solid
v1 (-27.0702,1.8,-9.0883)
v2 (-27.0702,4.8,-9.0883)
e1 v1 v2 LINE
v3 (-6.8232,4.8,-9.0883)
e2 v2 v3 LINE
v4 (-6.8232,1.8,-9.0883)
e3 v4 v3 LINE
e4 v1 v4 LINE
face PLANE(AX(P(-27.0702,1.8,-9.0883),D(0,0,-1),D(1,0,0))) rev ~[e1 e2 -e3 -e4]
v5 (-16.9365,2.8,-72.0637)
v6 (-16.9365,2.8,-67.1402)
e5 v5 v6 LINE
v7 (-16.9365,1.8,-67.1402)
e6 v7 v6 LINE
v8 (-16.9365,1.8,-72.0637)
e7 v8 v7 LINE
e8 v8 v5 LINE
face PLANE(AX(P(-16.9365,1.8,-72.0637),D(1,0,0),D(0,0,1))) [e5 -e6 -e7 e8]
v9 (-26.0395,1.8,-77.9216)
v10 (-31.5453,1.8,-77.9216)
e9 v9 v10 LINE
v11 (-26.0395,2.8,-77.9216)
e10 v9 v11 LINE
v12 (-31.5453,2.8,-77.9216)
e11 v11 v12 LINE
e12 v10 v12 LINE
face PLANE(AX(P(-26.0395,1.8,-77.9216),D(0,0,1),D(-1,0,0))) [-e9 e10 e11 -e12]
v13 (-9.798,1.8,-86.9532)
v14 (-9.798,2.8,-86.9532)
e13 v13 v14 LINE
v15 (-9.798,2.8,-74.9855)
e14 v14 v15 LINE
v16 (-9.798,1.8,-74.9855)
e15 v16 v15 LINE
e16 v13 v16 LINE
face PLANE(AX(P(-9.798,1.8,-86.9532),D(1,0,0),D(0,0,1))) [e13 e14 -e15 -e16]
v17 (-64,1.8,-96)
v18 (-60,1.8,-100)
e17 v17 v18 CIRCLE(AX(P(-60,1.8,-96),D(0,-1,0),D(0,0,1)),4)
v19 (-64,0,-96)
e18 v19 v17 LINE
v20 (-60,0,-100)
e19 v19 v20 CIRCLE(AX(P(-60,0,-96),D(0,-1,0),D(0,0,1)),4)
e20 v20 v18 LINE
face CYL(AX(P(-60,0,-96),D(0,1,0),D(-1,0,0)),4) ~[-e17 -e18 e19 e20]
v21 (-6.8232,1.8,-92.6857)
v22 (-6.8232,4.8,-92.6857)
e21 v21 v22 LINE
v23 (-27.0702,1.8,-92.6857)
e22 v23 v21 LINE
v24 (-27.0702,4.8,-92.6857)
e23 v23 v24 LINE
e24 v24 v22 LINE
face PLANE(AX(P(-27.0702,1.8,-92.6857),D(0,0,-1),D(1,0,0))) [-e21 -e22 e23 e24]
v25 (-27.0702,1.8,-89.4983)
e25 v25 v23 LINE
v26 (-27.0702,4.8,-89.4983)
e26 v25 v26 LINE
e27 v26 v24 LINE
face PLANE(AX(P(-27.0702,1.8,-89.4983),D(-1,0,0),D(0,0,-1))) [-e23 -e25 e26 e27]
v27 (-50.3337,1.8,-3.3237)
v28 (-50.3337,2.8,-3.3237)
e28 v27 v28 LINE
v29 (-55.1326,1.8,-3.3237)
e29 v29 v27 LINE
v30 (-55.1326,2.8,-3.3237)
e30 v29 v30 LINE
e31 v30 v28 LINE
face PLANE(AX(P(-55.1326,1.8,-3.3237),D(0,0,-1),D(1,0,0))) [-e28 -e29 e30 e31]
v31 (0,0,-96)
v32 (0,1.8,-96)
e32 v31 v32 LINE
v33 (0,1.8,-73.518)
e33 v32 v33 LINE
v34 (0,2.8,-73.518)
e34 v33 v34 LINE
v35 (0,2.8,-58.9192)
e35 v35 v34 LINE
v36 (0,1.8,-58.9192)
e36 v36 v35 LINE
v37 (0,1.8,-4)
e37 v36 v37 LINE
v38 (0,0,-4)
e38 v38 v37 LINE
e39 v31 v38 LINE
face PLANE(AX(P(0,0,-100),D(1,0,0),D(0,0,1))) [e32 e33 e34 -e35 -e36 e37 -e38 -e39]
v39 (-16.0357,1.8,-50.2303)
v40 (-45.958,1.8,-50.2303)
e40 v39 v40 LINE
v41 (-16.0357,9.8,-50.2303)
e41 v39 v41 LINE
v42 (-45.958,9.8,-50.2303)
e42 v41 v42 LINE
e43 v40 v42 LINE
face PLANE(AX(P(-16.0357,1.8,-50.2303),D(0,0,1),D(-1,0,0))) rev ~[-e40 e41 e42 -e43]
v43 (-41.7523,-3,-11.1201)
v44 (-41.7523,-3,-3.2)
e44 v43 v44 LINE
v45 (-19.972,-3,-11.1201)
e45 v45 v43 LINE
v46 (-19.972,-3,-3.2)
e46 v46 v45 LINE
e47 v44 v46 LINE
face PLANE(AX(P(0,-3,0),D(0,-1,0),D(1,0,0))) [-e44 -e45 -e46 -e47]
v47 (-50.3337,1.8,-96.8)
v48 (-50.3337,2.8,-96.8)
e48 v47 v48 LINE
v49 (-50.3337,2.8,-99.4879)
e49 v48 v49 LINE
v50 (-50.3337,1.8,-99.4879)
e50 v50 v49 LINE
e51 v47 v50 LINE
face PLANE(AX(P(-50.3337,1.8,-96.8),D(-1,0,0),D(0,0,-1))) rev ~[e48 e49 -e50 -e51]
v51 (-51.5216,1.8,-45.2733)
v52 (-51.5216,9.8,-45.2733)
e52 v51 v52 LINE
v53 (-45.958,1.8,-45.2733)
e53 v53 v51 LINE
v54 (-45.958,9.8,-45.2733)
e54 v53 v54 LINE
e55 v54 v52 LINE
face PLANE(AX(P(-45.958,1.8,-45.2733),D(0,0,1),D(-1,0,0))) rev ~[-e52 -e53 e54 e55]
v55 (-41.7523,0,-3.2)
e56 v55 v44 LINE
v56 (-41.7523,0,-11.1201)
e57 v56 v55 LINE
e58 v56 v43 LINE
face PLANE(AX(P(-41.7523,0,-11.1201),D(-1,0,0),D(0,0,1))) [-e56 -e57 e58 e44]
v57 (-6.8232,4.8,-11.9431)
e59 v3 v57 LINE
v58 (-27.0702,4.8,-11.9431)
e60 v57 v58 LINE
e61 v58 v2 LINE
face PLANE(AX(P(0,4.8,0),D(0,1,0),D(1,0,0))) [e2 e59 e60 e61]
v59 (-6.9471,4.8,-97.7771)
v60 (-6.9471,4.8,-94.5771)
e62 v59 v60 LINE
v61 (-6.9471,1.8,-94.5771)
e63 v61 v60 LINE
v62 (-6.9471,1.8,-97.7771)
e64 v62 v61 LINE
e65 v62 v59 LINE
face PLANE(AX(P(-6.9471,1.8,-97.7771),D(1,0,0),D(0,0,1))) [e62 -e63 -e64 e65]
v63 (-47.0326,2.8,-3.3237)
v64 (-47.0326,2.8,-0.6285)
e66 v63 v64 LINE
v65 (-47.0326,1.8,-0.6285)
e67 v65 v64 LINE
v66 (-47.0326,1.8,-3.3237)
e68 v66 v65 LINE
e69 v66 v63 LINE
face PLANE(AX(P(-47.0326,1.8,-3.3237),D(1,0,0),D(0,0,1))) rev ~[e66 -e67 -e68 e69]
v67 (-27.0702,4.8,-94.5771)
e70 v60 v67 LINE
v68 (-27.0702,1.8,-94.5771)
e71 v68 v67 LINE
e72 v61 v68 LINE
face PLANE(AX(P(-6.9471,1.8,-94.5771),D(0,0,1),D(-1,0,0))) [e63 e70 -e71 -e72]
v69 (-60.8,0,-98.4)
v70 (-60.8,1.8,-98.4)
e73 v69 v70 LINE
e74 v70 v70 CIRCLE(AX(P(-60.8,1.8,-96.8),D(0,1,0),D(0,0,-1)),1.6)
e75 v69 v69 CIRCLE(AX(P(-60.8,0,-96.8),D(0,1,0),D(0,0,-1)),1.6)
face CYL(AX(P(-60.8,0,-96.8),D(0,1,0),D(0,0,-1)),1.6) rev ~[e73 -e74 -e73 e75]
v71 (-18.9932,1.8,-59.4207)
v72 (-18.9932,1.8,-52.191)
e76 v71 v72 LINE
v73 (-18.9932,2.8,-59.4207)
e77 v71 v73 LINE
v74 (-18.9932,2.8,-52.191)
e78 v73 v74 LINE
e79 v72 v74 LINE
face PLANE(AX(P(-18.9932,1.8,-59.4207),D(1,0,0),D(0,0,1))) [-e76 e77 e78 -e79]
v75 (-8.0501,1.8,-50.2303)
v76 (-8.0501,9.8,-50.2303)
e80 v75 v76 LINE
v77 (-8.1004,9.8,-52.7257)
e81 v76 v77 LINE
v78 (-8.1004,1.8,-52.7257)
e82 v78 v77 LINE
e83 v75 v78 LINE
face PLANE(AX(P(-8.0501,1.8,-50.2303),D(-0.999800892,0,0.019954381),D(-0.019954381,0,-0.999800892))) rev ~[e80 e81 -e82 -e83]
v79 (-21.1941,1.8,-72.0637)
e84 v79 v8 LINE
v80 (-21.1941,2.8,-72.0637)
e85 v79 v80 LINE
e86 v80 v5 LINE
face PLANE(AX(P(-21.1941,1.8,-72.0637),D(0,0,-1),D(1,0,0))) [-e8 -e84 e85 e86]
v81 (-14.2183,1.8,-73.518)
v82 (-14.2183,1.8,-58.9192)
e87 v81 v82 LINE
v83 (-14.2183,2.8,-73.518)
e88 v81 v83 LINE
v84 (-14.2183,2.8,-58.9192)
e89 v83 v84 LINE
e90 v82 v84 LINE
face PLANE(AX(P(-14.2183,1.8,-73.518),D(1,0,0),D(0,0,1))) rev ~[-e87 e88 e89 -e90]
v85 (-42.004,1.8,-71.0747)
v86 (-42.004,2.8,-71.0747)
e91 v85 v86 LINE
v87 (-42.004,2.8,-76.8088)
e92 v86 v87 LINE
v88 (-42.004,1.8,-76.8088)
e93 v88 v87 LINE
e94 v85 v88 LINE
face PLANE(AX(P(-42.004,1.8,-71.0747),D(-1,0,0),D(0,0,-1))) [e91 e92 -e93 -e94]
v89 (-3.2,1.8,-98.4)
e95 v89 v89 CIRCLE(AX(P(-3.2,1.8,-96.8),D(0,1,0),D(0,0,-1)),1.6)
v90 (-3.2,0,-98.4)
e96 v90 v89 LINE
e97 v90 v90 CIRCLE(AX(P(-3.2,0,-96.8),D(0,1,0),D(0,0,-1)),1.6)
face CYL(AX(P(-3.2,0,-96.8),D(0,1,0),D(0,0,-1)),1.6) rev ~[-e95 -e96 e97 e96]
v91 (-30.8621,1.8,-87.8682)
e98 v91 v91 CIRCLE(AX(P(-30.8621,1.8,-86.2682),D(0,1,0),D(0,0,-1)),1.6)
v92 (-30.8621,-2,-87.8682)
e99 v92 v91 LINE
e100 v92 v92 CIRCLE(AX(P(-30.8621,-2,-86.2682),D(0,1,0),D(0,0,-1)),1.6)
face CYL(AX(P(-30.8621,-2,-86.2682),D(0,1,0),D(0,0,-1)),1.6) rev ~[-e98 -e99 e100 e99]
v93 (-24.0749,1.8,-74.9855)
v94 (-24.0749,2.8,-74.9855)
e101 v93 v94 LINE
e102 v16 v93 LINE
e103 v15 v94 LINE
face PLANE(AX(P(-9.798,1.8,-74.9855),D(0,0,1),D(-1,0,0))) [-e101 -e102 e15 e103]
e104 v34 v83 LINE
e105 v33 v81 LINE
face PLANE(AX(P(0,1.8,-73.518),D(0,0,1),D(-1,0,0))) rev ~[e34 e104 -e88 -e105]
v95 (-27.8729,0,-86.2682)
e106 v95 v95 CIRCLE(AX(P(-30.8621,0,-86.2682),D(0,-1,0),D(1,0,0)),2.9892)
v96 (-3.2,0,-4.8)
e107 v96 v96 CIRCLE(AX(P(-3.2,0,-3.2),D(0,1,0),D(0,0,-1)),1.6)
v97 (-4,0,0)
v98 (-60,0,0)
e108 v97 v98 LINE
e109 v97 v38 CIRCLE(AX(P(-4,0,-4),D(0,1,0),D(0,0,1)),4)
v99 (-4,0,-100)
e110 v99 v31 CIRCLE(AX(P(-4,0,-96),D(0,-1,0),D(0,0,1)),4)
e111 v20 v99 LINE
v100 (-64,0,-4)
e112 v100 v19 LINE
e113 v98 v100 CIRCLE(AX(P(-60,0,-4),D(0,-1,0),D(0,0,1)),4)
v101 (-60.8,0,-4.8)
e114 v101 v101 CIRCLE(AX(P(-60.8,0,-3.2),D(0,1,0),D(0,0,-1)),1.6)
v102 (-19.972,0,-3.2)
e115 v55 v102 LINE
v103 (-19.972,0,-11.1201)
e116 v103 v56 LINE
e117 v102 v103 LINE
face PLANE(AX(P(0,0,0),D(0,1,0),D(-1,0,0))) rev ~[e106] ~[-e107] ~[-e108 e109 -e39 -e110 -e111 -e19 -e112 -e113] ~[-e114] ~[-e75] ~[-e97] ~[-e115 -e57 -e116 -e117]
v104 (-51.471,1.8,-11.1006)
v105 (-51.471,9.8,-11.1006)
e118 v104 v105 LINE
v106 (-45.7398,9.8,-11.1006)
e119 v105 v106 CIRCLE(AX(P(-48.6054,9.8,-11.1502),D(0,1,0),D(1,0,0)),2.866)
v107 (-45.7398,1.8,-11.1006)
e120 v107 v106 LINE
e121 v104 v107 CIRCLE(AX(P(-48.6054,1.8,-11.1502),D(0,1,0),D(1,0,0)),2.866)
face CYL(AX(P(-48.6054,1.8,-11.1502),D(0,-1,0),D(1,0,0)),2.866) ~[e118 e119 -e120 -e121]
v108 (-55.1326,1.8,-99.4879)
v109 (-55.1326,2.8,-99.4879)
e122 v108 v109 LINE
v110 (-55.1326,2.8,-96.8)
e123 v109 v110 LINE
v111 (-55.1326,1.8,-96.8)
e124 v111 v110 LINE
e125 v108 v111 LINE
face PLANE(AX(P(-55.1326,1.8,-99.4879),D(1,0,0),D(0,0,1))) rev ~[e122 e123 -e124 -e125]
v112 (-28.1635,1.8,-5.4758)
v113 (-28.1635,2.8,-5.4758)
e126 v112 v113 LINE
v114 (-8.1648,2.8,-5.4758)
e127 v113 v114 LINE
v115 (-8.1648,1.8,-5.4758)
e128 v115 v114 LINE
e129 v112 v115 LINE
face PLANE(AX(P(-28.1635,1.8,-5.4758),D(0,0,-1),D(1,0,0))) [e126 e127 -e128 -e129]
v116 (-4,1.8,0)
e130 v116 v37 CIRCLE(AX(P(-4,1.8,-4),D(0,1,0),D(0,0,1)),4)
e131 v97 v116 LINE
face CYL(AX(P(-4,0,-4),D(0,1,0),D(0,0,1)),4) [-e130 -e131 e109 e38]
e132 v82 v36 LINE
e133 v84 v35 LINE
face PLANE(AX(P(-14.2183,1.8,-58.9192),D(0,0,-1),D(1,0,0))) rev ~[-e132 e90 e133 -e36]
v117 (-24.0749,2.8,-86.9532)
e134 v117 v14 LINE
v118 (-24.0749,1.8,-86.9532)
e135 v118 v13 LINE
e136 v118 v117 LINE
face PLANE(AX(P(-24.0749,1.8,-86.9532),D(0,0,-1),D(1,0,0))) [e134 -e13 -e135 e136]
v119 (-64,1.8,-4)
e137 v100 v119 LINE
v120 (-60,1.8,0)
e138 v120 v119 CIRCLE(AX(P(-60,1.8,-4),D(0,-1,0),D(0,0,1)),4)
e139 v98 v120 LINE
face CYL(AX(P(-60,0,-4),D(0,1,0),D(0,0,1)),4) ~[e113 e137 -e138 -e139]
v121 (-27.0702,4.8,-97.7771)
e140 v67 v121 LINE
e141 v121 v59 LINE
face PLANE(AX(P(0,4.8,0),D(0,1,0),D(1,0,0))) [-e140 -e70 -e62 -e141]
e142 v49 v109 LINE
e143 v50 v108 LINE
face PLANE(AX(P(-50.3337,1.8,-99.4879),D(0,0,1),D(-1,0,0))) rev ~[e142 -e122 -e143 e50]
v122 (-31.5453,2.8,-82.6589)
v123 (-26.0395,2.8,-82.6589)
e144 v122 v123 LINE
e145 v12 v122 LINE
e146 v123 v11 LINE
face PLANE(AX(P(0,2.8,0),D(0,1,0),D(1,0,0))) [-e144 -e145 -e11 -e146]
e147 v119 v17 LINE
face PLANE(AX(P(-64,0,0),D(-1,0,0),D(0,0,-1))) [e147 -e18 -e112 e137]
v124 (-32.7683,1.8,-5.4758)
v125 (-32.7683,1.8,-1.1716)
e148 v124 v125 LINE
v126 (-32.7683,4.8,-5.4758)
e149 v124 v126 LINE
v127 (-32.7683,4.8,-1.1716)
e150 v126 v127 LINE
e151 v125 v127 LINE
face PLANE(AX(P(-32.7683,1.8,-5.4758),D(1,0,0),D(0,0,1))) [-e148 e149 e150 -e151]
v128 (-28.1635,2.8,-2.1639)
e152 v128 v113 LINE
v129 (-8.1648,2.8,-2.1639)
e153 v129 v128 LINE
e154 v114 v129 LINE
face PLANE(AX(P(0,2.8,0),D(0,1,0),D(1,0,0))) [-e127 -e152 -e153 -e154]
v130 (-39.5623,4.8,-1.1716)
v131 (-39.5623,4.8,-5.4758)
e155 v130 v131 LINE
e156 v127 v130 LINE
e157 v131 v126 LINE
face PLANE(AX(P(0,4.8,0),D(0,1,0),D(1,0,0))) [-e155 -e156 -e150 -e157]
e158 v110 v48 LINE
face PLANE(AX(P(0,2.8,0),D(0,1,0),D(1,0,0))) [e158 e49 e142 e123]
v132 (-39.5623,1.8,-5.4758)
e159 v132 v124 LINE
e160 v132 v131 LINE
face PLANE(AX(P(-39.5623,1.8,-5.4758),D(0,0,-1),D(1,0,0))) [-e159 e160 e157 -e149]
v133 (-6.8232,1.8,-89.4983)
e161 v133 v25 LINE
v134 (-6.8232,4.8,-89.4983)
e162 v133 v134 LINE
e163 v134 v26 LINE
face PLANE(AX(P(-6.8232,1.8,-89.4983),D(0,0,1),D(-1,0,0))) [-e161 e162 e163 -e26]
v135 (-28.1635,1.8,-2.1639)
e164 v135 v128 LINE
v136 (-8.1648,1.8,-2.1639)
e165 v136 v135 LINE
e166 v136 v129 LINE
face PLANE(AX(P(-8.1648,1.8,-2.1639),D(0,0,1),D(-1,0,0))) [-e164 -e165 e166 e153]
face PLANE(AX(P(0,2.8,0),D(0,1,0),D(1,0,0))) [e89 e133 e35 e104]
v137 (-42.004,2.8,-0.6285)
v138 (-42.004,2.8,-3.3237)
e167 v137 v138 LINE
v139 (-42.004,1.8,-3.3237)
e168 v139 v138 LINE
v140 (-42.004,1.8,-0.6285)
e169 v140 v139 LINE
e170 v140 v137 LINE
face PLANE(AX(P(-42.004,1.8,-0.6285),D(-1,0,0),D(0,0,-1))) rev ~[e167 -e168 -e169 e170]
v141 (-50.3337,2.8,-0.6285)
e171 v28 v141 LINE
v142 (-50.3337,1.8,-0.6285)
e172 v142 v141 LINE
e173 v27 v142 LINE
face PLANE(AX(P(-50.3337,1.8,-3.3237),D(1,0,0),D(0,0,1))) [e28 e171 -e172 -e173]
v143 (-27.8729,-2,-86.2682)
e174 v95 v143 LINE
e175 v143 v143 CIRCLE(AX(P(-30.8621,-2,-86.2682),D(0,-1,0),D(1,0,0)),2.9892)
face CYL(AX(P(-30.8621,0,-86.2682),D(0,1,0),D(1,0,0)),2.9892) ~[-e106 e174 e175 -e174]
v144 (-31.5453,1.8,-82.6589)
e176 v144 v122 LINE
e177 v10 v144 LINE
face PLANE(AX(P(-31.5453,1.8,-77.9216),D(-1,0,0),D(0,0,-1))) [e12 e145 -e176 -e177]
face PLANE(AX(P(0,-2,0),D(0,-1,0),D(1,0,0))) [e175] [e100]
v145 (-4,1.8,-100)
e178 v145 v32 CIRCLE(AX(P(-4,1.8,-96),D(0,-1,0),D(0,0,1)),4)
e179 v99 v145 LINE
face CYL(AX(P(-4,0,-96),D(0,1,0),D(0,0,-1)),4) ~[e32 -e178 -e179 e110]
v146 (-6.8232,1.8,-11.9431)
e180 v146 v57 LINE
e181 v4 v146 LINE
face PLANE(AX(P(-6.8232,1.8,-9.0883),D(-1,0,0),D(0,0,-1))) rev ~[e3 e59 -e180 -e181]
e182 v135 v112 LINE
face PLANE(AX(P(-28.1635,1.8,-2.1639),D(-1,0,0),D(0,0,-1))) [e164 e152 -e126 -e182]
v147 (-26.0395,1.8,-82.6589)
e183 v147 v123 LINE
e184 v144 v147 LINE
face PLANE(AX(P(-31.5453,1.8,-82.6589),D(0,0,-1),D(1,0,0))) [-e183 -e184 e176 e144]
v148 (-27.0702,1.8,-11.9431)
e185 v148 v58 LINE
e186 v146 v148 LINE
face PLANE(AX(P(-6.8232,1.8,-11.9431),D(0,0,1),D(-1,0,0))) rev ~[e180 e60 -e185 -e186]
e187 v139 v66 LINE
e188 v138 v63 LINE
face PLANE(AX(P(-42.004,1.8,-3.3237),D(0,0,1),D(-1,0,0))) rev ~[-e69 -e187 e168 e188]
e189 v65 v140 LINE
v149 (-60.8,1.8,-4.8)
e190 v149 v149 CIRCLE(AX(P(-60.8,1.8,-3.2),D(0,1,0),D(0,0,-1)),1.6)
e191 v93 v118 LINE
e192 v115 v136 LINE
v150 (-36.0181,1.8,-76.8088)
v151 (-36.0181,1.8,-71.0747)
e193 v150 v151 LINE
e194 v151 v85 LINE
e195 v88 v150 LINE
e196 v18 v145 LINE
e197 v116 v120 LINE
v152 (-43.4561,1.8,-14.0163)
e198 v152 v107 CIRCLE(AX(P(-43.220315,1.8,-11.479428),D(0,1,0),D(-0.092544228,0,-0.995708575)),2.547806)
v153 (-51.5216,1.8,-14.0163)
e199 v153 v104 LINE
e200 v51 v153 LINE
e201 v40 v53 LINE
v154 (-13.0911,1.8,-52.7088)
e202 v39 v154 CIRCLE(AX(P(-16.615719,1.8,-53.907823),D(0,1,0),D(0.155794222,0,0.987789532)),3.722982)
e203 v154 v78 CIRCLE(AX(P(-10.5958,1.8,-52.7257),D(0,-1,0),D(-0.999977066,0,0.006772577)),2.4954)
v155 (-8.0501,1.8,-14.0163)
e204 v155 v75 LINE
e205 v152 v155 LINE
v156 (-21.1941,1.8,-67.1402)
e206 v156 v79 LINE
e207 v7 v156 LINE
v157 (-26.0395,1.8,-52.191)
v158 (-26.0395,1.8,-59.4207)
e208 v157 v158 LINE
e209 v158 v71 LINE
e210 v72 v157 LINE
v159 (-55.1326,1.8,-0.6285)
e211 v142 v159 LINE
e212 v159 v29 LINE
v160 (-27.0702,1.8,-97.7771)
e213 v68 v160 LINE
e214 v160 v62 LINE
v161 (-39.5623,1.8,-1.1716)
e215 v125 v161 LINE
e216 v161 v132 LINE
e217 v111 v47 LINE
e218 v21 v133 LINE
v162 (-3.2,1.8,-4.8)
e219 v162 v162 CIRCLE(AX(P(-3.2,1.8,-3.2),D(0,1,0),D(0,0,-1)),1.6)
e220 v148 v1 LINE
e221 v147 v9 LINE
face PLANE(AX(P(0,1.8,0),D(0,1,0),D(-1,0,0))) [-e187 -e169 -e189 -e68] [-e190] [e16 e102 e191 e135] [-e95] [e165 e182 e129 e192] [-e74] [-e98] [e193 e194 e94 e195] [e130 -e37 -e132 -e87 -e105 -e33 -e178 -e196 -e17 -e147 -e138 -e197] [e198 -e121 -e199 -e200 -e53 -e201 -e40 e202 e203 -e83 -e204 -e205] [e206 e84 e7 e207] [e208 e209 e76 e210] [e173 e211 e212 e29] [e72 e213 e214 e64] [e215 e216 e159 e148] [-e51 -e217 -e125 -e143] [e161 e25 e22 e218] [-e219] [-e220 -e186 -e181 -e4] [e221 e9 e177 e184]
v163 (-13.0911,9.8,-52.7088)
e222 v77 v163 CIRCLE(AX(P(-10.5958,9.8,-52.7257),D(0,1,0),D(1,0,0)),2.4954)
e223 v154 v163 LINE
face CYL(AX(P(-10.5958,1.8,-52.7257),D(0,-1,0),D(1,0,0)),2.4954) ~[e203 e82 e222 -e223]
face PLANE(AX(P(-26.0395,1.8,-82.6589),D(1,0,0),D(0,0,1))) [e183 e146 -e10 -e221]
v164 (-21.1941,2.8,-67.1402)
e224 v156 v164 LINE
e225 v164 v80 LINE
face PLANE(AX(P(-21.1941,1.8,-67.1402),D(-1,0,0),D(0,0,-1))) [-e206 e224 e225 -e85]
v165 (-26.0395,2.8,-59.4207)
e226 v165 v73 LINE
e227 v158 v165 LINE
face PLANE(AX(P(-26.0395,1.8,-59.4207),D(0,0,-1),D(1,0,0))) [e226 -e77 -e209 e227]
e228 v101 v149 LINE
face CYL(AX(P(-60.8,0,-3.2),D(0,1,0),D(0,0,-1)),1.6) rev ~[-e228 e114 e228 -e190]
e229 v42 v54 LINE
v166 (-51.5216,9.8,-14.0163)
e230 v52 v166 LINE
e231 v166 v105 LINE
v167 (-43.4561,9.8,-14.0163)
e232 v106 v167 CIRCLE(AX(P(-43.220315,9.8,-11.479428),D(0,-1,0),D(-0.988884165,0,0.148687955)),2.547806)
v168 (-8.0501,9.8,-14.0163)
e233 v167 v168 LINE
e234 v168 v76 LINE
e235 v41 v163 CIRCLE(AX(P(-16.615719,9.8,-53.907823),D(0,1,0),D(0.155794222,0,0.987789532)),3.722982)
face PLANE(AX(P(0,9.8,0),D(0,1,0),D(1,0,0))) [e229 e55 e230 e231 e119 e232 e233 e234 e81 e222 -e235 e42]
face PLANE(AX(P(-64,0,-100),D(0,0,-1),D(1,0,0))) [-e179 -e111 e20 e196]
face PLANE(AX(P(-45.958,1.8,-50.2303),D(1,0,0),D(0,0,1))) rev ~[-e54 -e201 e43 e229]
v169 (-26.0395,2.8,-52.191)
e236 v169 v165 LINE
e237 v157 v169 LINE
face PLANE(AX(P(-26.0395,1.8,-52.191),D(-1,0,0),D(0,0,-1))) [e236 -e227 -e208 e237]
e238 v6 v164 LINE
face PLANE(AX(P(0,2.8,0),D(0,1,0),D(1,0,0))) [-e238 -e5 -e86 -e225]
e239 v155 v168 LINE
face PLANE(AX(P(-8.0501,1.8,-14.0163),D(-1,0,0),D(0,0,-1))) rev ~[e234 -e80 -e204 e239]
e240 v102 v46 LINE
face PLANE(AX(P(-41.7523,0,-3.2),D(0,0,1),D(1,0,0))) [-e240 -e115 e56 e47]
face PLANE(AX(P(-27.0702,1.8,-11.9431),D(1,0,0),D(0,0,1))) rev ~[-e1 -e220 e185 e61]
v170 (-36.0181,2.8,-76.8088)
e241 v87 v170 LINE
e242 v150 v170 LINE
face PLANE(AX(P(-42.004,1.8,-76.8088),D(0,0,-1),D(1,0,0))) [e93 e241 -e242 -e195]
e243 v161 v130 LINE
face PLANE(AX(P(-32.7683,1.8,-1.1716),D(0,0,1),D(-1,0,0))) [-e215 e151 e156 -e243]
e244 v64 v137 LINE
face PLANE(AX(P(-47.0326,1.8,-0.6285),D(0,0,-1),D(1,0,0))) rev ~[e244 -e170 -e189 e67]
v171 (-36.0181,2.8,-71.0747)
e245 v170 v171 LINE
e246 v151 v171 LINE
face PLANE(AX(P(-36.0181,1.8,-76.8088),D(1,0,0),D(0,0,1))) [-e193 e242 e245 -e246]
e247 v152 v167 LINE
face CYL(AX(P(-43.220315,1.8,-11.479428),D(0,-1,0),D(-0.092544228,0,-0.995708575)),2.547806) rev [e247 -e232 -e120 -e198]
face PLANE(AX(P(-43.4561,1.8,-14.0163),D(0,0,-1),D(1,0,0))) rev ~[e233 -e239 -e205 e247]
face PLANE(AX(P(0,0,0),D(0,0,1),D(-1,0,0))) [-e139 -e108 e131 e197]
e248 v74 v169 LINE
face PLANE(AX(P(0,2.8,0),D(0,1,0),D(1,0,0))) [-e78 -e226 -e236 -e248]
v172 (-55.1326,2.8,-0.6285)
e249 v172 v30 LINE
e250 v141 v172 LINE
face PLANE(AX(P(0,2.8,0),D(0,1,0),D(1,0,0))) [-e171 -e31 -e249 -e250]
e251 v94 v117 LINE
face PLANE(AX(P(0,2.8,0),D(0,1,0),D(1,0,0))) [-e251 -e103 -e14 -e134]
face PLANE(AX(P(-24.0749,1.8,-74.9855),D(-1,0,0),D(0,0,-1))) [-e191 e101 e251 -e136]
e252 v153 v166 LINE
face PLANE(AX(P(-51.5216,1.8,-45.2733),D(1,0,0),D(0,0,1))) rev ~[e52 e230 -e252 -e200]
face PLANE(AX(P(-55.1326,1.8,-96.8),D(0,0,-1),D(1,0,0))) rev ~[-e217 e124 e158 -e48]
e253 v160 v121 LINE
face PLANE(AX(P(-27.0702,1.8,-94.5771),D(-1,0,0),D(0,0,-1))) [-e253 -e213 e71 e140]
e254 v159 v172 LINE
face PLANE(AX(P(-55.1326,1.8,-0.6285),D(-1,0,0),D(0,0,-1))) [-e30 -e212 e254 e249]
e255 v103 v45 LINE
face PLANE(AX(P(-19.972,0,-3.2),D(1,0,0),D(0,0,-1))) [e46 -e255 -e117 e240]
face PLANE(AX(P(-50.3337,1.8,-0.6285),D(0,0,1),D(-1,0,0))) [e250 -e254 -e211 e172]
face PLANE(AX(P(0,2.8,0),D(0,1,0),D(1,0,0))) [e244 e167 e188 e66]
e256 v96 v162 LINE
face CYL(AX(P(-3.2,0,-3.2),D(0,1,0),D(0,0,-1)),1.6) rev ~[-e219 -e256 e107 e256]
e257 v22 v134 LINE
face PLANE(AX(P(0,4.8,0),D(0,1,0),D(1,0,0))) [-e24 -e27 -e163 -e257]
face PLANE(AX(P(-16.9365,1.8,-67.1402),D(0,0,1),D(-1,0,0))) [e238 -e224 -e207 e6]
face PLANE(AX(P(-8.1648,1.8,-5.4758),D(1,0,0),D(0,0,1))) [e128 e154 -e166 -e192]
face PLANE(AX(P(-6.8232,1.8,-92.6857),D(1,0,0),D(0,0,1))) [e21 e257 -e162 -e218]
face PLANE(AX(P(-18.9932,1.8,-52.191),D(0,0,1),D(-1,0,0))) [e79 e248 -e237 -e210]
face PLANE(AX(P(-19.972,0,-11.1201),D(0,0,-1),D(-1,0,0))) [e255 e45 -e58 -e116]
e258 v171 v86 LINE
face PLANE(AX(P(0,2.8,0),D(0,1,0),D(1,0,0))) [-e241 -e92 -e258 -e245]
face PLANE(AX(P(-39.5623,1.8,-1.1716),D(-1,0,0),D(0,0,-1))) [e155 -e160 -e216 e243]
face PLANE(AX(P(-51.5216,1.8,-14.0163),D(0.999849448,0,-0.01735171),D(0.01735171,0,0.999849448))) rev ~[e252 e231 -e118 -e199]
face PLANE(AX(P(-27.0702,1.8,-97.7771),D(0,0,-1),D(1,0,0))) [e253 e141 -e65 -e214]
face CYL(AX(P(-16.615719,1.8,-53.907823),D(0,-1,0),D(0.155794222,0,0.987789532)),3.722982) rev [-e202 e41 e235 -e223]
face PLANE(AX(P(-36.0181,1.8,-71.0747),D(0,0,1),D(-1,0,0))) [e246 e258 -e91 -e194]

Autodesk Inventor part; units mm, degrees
ref_plane "YZ Plane" through (0, 0, 0) normal (1, 0, 0) x (0, 1, 0)
ref_plane "XZ Plane" through (0, 0, 0) normal (0, 1, 0) x (-1, 0, 0)
ref_plane "XY Plane" through (0, 0, 0) normal (0, 0, 1) x (1, 0, 0)
sketch "Sketch1" plane through (0, 0, 0) normal (0, 1, 0) x (-1, 0, 0)
  line L0 (0, 0) -> (64, 0)
  line L1 (64, 0) -> (64, -100)
  line L2 (64, -100) -> (0, -100)
  line L3 (0, -100) -> (0, 0)
  dimension "d0" = 64
  dimension "d1" = 100
extrude "Extrusion1" add sketch "Sketch1" along normal blind 1.8
fillet "Fillet1" radius 4 4 edges at (-64, 0.9, 0) (0, 0.9, 0) (0, 0.9, -100) (-64, 0.9, -100)
sketch "Sketch2" plane through (0, 0, 0) normal (0, -1, 0) x (1, 0, 0)
  arc A0 (-64, -96) -> (-60, -100) centre (-60, -96) ccw projected
  arc A1 (-4, -100) -> (0, -96) centre (-4, -96) ccw projected
  arc A2 (0, -4) -> (-4, 0) centre (-4, -4) ccw projected
  arc A3 (-60, 0) -> (-64, -4) centre (-60, -4) ccw projected
  line L0 (-64, -4) -> (-64, -96) projected
  line L1 (-60, -100) -> (-60, -96)
  line L2 (-60, -96) -> (-64, -96)
  line L3 (0, -96) -> (-4, -96)
  line L4 (-4, -96) -> (-4, -100)
  line L5 (0, -4) -> (-4, -4)
  line L6 (-4, -4) -> (-4, 0)
  line L7 (-60, 0) -> (-60, -4)
  line L8 (-60, -4) -> (-64, -4)
  point P0 (0, 0)
  point P1 (-60.8, -96.8)
  point P2 (-3.2, -96.8)
  point P3 (-3.2, -3.2)
  point P4 (-60.8, -3.2)
  dimension "d5" = 4
  dimension "d6" = 0.8
  dimension "d7" = 0.8
  dimension "d8" = 0.8
  dimension "d9" = 0.8
  dimension "d10" = 0.8
  dimension "d11" = 0.8
  dimension "d12" = 0.8
  dimension "d13" = 0.8
hole "Hole1" at (-60.8, 0, -96.8) at (-3.2, 0, -96.8) at (-3.2, 0, -3.2) at (-60.8, 0, -3.2) direction (0, 1, 0) diameter 3.2 end through all
sketch "Sketch3" plane through (0, 1.8, 0) normal (0, 1, 0) x (1, 0, 0)
  line L0 (-24.0749, 86.9532) -> (-9.798, 86.9532)
  line L1 (-9.798, 86.9532) -> (-9.798, 74.9855)
  line L2 (-9.798, 74.9855) -> (-24.0749, 74.9855)
  line L3 (-24.0749, 74.9855) -> (-24.0749, 86.9532)
  line L4 (-42.004, 76.8088) -> (-36.0181, 76.8088)
  line L5 (-36.0181, 76.8088) -> (-36.0181, 71.0747)
  line L6 (-36.0181, 71.0747) -> (-42.004, 71.0747)
  line L7 (-42.004, 71.0747) -> (-42.004, 76.8088)
  line L8 (-26.0395, 59.4207) -> (-18.9932, 59.4207)
  line L9 (-18.9932, 59.4207) -> (-18.9932, 52.191)
  line L10 (-18.9932, 52.191) -> (-26.0395, 52.191)
  line L11 (-26.0395, 52.191) -> (-26.0395, 59.4207)
  line L12 (-21.1941, 72.0637) -> (-16.9365, 72.0637)
  line L13 (-16.9365, 72.0637) -> (-16.9365, 67.1402)
  line L14 (-16.9365, 67.1402) -> (-21.1941, 67.1402)
  line L15 (-21.1941, 67.1402) -> (-21.1941, 72.0637)
  line L16 (-31.5453, 82.6589) -> (-26.0395, 82.6589)
  line L17 (-26.0395, 82.6589) -> (-26.0395, 77.9216)
  line L18 (-26.0395, 77.9216) -> (-31.5453, 77.9216)
  line L19 (-31.5453, 77.9216) -> (-31.5453, 82.6589)
  line L20 (-27.0702, 92.6857) -> (-6.8232, 92.6857)
  line L21 (-6.8232, 92.6857) -> (-6.8232, 89.4983)
  line L22 (-6.8232, 89.4983) -> (-27.0702, 89.4983)
  line L23 (-27.0702, 89.4983) -> (-27.0702, 92.6857)
  line L24 (-27.0702, 97.7771) -> (-6.9471, 97.7771)
  line L25 (-6.9471, 97.7771) -> (-6.9471, 94.5771)
  line L26 (-6.9471, 94.5771) -> (-27.0702, 94.5771)
  line L27 (-27.0702, 94.5771) -> (-27.0702, 97.7771)
  line L28 (-27.0702, 9.0883) -> (-6.8232, 9.0883)
  line L29 (-6.8232, 9.0883) -> (-6.8232, 11.9431)
  line L30 (-6.8232, 11.9431) -> (-27.0702, 11.9431)
  line L31 (-27.0702, 11.9431) -> (-27.0702, 9.0883)
  line L32 (-28.1635, 5.4758) -> (-8.1648, 5.4758)
  line L33 (-8.1648, 5.4758) -> (-8.1648, 2.1639)
  line L34 (-8.1648, 2.1639) -> (-28.1635, 2.1639)
  line L35 (-28.1635, 2.1639) -> (-28.1635, 5.4758)
  line L36 (-39.5623, 5.4758) -> (-32.7683, 5.4758)
  line L37 (-32.7683, 5.4758) -> (-32.7683, 1.1716)
  line L38 (-32.7683, 1.1716) -> (-39.5623, 1.1716)
  line L39 (-39.5623, 1.1716) -> (-39.5623, 5.4758)
  line L40 (-55.1326, 3.3237) -> (-50.3337, 3.3237)
  line L41 (-50.3337, 3.3237) -> (-50.3337, 0.6285)
  line L42 (-50.3337, 0.6285) -> (-55.1326, 0.6285)
  line L43 (-55.1326, 0.6285) -> (-55.1326, 3.3237)
  line L44 (-47.0326, 0.6285) -> (-42.004, 0.6285)
  line L45 (-42.004, 0.6285) -> (-42.004, 3.3237)
  line L46 (-42.004, 3.3237) -> (-47.0326, 3.3237)
  line L47 (-47.0326, 3.3237) -> (-47.0326, 0.6285)
  line L48 (-55.1326, 96.8) -> (-50.3337, 96.8)
  line L49 (-50.3337, 96.8) -> (-50.3337, 99.4879)
  line L50 (-50.3337, 99.4879) -> (-55.1326, 99.4879)
  line L51 (-55.1326, 99.4879) -> (-55.1326, 96.8)
  point P0 (0, 0)
extrude "Extrusion2" add sketch "Sketch3" along normal blind 1 contours L0 L1 L2 L3 | L4 L5 L6 L7 | L8 L9 L10 L11 | L12 L13 L14 L15 | L16 L17 L18 L19 | L32 L33 L34 L35
extrude "Extrusion3" add sketch "Sketch3" along normal blind 3 contours L20 L21 L22 L23 | L24 L25 L26 L27 | L31 L30 L29 L28
extrude "Extrusion4" add sketch "Sketch3" along normal blind 1 contours L40 L41 L42 L43 | L47 L46 L45 L44 | L51 L50 L49 L48
extrude "Extrusion5" add sketch "Sketch3" along normal blind 3 contours L36 L37 L38 L39
sketch "Sketch4" plane through (0, 1.8, 0) normal (0, 1, 0) x (1, 0, 0)
  line L0 (-32.7683, 5.4758) -> (-32.7683, 1.1716) projected
  line L1 (-32.7683, 1.1716) -> (-39.5623, 1.1716) projected
  line L2 (-39.5623, 1.1716) -> (-39.5623, 5.4758) projected
  line L3 (-39.5623, 5.4758) -> (-32.7683, 5.4758) projected
  line L4 (-50.3337, 3.3237) -> (-50.3337, 0.6285) projected
  line L5 (-50.3337, 0.6285) -> (-55.1326, 0.6285) projected
  line L6 (-55.1326, 0.6285) -> (-55.1326, 3.3237) projected
  line L7 (-55.1326, 3.3237) -> (-50.3337, 3.3237) projected
  line L8 (-55.1326, 96.8) -> (-55.1326, 99.4879) projected
  line L9 (-55.1326, 99.4879) -> (-50.3337, 99.4879) projected
  line L10 (-50.3337, 99.4879) -> (-50.3337, 96.8) projected
  line L11 (-50.3337, 96.8) -> (-55.1326, 96.8) projected
  line L12 (-47.0326, 0.6285) -> (-47.0326, 3.3237) projected
  line L13 (-47.0326, 3.3237) -> (-42.004, 3.3237) projected
  line L14 (-42.004, 3.3237) -> (-42.004, 0.6285) projected
  line L15 (-42.004, 0.6285) -> (-47.0326, 0.6285) projected
  line L16 (-6.9471, 97.7771) -> (-6.9471, 94.5771) projected
  line L17 (-6.9471, 94.5771) -> (-27.0702, 94.5771) projected
  line L18 (-27.0702, 94.5771) -> (-27.0702, 97.7771) projected
  line L19 (-27.0702, 97.7771) -> (-6.9471, 97.7771) projected
  line L20 (-27.0702, 9.0883) -> (-27.0702, 11.9431) projected
  line L21 (-27.0702, 11.9431) -> (-6.8232, 11.9431) projected
  line L22 (-6.8232, 11.9431) -> (-6.8232, 9.0883) projected
  line L23 (-6.8232, 9.0883) -> (-27.0702, 9.0883) projected
  line L24 (-6.8232, 92.6857) -> (-6.8232, 89.4983) projected
  line L25 (-6.8232, 89.4983) -> (-27.0702, 89.4983) projected
  line L26 (-27.0702, 89.4983) -> (-27.0702, 92.6857) projected
  line L27 (-27.0702, 92.6857) -> (-6.8232, 92.6857) projected
  line L28 (-8.1648, 5.4758) -> (-8.1648, 2.1639) projected
  line L29 (-8.1648, 2.1639) -> (-28.1635, 2.1639) projected
  line L30 (-28.1635, 2.1639) -> (-28.1635, 5.4758) projected
  line L31 (-28.1635, 5.4758) -> (-8.1648, 5.4758) projected
  line L32 (-36.0181, 76.8088) -> (-36.0181, 71.0747) projected
  line L33 (-36.0181, 71.0747) -> (-42.004, 71.0747) projected
  line L34 (-42.004, 71.0747) -> (-42.004, 76.8088) projected
  line L35 (-42.004, 76.8088) -> (-36.0181, 76.8088) projected
  line L36 (-16.9365, 72.0637) -> (-16.9365, 67.1402) projected
  line L37 (-16.9365, 67.1402) -> (-21.1941, 67.1402) projected
  line L38 (-21.1941, 67.1402) -> (-21.1941, 72.0637) projected
  line L39 (-21.1941, 72.0637) -> (-16.9365, 72.0637) projected
  line L40 (-26.0395, 82.6589) -> (-26.0395, 77.9216) projected
  line L41 (-26.0395, 77.9216) -> (-31.5453, 77.9216) projected
  line L42 (-31.5453, 77.9216) -> (-31.5453, 82.6589) projected
  line L43 (-31.5453, 82.6589) -> (-26.0395, 82.6589) projected
  line L44 (-18.9932, 59.4207) -> (-18.9932, 52.191) projected
  line L45 (-18.9932, 52.191) -> (-26.0395, 52.191) projected
  line L46 (-26.0395, 52.191) -> (-26.0395, 59.4207) projected
  line L47 (-26.0395, 59.4207) -> (-18.9932, 59.4207) projected
  line L48 (-9.798, 86.9532) -> (-9.798, 74.9855) projected
  line L49 (-9.798, 74.9855) -> (-24.0749, 74.9855) projected
  line L50 (-24.0749, 74.9855) -> (-24.0749, 86.9532) projected
  line L51 (-24.0749, 86.9532) -> (-9.798, 86.9532) projected
  circle A0 centre (-3.2, 3.2) radius 1.6 projected
  circle A1 centre (-60.8, 96.8) radius 1.6 projected
  circle A2 centre (-3.2, 96.8) radius 1.6 projected
  circle A3 centre (-60.8, 3.2) radius 1.6 projected
  arc A4 (-60, 100) -> (-64, 96) centre (-60, 96) ccw projected
  line L52 (-64, 96) -> (-64, 4) projected
  arc A5 (-64, 4) -> (-60, 0) centre (-60, 4) ccw projected
  line L53 (-60, 0) -> (-4, 0) projected
  arc A6 (-4, 0) -> (0, 4) centre (-4, 4) ccw projected
  line L54 (0, 4) -> (0, 96) projected
  arc A7 (0, 96) -> (-4, 100) centre (-4, 96) ccw projected
  line L55 (-4, 100) -> (-60, 100) projected
  point P0 (0, 0)
sketch "Sketch5" plane through (0, 1.8, 0) normal (0, 1, 0) x (1, 0, 0)
  line L0 (-51.5216, 14.0163) -> (-8.0501, 14.0163)
  line L1 (-8.0501, 14.0163) -> (-8.0501, 50.2303)
  line L2 (-8.0501, 50.2303) -> (-51.5216, 50.2303)
  line L3 (-51.5216, 50.2303) -> (-51.5216, 14.0163)
  line L4 (-51.5216, 50.2303) -> (-45.958, 50.2303)
  line L5 (-45.958, 50.2303) -> (-45.958, 45.2733)
  line L6 (-45.958, 45.2733) -> (-51.5216, 45.2733)
  line L7 (-51.5216, 45.2733) -> (-51.5216, 50.2303)
  circle A0 centre (-48.6054, 11.1502) radius 2.866
  line L8 (-51.5216, 14.0163) -> (-51.471, 11.1006)
  arc A1 (-43.4561, 14.0163) -> (-45.7398, 11.1006) centre (-43.2203, 11.4794) ccw
  circle A2 centre (-10.5958, 52.7257) radius 2.4954
  line L9 (-8.0501, 50.2303) -> (-8.1009, 52.7756)
  arc A3 (-16.0357, 50.2303) -> (-13.0911, 52.7088) centre (-16.6158, 53.908) ccw
  point P0 (0, 0)
extrude "Extrusion6" add sketch "Sketch5" along normal blind 8 contours L0 L3 L6 L5 L2 L1 | A1 A0 L0 | A0 L8 L0 | A0 A1 | L2 A2 L9 | L2 A3 A2 | A2 picked at (-49.5355, 10.9245)
sketch "Sketch7" plane through (0, 0, 0) normal (0, -1, 0) x (1, 0, 0)
  line L0 (-41.7523, -3.2) -> (-19.972, -3.2)
  line L1 (-19.972, -3.2) -> (-19.972, -11.1201)
  line L2 (-19.972, -11.1201) -> (-41.7523, -11.1201)
  line L3 (-41.7523, -11.1201) -> (-41.7523, -3.2)
  point P0 (0, 0)
extrude "Extrusion7" add sketch "Sketch7" along normal blind 3
sketch "Sketch8" plane through (0, 0, 0) normal (0, -1, 0) x (1, 0, 0)
  circle A0 centre (-30.8621, -86.2682) radius 2.9892
  point P0 (0, 0)
extrude "Extrusion8" add sketch "Sketch8" along normal blind 2
sketch "Sketch9" plane through (-30.8621, -2, -86.2682) normal (0, -1, 0) x (1, 0, 0)
  circle A0 centre (0, 0) radius 2.9892 projected
  point P0 (30.8621, 86.2682)
hole "Hole2" at (-30.8621, -2, -86.2682) direction (0, 1, 0) diameter 3.2 end through all
sketch "Sketch10" plane through (0, 1.8, 0) normal (0, 1, 0) x (1, 0, 0)
  line L0 (0, 4) -> (0, 96) projected
  line L1 (0, 73.518) -> (-14.2183, 73.518)
  line L2 (-14.2183, 73.518) -> (-14.2183, 58.9192)
  line L3 (-14.2183, 58.9192) -> (0, 58.9192)
  line L4 (0, 58.9192) -> (0, 73.518)
  point P0 (0, 0)
extrude "Extrusion9" add sketch "Sketch10" along normal blind 1
properties part number "nanopc_t4"
